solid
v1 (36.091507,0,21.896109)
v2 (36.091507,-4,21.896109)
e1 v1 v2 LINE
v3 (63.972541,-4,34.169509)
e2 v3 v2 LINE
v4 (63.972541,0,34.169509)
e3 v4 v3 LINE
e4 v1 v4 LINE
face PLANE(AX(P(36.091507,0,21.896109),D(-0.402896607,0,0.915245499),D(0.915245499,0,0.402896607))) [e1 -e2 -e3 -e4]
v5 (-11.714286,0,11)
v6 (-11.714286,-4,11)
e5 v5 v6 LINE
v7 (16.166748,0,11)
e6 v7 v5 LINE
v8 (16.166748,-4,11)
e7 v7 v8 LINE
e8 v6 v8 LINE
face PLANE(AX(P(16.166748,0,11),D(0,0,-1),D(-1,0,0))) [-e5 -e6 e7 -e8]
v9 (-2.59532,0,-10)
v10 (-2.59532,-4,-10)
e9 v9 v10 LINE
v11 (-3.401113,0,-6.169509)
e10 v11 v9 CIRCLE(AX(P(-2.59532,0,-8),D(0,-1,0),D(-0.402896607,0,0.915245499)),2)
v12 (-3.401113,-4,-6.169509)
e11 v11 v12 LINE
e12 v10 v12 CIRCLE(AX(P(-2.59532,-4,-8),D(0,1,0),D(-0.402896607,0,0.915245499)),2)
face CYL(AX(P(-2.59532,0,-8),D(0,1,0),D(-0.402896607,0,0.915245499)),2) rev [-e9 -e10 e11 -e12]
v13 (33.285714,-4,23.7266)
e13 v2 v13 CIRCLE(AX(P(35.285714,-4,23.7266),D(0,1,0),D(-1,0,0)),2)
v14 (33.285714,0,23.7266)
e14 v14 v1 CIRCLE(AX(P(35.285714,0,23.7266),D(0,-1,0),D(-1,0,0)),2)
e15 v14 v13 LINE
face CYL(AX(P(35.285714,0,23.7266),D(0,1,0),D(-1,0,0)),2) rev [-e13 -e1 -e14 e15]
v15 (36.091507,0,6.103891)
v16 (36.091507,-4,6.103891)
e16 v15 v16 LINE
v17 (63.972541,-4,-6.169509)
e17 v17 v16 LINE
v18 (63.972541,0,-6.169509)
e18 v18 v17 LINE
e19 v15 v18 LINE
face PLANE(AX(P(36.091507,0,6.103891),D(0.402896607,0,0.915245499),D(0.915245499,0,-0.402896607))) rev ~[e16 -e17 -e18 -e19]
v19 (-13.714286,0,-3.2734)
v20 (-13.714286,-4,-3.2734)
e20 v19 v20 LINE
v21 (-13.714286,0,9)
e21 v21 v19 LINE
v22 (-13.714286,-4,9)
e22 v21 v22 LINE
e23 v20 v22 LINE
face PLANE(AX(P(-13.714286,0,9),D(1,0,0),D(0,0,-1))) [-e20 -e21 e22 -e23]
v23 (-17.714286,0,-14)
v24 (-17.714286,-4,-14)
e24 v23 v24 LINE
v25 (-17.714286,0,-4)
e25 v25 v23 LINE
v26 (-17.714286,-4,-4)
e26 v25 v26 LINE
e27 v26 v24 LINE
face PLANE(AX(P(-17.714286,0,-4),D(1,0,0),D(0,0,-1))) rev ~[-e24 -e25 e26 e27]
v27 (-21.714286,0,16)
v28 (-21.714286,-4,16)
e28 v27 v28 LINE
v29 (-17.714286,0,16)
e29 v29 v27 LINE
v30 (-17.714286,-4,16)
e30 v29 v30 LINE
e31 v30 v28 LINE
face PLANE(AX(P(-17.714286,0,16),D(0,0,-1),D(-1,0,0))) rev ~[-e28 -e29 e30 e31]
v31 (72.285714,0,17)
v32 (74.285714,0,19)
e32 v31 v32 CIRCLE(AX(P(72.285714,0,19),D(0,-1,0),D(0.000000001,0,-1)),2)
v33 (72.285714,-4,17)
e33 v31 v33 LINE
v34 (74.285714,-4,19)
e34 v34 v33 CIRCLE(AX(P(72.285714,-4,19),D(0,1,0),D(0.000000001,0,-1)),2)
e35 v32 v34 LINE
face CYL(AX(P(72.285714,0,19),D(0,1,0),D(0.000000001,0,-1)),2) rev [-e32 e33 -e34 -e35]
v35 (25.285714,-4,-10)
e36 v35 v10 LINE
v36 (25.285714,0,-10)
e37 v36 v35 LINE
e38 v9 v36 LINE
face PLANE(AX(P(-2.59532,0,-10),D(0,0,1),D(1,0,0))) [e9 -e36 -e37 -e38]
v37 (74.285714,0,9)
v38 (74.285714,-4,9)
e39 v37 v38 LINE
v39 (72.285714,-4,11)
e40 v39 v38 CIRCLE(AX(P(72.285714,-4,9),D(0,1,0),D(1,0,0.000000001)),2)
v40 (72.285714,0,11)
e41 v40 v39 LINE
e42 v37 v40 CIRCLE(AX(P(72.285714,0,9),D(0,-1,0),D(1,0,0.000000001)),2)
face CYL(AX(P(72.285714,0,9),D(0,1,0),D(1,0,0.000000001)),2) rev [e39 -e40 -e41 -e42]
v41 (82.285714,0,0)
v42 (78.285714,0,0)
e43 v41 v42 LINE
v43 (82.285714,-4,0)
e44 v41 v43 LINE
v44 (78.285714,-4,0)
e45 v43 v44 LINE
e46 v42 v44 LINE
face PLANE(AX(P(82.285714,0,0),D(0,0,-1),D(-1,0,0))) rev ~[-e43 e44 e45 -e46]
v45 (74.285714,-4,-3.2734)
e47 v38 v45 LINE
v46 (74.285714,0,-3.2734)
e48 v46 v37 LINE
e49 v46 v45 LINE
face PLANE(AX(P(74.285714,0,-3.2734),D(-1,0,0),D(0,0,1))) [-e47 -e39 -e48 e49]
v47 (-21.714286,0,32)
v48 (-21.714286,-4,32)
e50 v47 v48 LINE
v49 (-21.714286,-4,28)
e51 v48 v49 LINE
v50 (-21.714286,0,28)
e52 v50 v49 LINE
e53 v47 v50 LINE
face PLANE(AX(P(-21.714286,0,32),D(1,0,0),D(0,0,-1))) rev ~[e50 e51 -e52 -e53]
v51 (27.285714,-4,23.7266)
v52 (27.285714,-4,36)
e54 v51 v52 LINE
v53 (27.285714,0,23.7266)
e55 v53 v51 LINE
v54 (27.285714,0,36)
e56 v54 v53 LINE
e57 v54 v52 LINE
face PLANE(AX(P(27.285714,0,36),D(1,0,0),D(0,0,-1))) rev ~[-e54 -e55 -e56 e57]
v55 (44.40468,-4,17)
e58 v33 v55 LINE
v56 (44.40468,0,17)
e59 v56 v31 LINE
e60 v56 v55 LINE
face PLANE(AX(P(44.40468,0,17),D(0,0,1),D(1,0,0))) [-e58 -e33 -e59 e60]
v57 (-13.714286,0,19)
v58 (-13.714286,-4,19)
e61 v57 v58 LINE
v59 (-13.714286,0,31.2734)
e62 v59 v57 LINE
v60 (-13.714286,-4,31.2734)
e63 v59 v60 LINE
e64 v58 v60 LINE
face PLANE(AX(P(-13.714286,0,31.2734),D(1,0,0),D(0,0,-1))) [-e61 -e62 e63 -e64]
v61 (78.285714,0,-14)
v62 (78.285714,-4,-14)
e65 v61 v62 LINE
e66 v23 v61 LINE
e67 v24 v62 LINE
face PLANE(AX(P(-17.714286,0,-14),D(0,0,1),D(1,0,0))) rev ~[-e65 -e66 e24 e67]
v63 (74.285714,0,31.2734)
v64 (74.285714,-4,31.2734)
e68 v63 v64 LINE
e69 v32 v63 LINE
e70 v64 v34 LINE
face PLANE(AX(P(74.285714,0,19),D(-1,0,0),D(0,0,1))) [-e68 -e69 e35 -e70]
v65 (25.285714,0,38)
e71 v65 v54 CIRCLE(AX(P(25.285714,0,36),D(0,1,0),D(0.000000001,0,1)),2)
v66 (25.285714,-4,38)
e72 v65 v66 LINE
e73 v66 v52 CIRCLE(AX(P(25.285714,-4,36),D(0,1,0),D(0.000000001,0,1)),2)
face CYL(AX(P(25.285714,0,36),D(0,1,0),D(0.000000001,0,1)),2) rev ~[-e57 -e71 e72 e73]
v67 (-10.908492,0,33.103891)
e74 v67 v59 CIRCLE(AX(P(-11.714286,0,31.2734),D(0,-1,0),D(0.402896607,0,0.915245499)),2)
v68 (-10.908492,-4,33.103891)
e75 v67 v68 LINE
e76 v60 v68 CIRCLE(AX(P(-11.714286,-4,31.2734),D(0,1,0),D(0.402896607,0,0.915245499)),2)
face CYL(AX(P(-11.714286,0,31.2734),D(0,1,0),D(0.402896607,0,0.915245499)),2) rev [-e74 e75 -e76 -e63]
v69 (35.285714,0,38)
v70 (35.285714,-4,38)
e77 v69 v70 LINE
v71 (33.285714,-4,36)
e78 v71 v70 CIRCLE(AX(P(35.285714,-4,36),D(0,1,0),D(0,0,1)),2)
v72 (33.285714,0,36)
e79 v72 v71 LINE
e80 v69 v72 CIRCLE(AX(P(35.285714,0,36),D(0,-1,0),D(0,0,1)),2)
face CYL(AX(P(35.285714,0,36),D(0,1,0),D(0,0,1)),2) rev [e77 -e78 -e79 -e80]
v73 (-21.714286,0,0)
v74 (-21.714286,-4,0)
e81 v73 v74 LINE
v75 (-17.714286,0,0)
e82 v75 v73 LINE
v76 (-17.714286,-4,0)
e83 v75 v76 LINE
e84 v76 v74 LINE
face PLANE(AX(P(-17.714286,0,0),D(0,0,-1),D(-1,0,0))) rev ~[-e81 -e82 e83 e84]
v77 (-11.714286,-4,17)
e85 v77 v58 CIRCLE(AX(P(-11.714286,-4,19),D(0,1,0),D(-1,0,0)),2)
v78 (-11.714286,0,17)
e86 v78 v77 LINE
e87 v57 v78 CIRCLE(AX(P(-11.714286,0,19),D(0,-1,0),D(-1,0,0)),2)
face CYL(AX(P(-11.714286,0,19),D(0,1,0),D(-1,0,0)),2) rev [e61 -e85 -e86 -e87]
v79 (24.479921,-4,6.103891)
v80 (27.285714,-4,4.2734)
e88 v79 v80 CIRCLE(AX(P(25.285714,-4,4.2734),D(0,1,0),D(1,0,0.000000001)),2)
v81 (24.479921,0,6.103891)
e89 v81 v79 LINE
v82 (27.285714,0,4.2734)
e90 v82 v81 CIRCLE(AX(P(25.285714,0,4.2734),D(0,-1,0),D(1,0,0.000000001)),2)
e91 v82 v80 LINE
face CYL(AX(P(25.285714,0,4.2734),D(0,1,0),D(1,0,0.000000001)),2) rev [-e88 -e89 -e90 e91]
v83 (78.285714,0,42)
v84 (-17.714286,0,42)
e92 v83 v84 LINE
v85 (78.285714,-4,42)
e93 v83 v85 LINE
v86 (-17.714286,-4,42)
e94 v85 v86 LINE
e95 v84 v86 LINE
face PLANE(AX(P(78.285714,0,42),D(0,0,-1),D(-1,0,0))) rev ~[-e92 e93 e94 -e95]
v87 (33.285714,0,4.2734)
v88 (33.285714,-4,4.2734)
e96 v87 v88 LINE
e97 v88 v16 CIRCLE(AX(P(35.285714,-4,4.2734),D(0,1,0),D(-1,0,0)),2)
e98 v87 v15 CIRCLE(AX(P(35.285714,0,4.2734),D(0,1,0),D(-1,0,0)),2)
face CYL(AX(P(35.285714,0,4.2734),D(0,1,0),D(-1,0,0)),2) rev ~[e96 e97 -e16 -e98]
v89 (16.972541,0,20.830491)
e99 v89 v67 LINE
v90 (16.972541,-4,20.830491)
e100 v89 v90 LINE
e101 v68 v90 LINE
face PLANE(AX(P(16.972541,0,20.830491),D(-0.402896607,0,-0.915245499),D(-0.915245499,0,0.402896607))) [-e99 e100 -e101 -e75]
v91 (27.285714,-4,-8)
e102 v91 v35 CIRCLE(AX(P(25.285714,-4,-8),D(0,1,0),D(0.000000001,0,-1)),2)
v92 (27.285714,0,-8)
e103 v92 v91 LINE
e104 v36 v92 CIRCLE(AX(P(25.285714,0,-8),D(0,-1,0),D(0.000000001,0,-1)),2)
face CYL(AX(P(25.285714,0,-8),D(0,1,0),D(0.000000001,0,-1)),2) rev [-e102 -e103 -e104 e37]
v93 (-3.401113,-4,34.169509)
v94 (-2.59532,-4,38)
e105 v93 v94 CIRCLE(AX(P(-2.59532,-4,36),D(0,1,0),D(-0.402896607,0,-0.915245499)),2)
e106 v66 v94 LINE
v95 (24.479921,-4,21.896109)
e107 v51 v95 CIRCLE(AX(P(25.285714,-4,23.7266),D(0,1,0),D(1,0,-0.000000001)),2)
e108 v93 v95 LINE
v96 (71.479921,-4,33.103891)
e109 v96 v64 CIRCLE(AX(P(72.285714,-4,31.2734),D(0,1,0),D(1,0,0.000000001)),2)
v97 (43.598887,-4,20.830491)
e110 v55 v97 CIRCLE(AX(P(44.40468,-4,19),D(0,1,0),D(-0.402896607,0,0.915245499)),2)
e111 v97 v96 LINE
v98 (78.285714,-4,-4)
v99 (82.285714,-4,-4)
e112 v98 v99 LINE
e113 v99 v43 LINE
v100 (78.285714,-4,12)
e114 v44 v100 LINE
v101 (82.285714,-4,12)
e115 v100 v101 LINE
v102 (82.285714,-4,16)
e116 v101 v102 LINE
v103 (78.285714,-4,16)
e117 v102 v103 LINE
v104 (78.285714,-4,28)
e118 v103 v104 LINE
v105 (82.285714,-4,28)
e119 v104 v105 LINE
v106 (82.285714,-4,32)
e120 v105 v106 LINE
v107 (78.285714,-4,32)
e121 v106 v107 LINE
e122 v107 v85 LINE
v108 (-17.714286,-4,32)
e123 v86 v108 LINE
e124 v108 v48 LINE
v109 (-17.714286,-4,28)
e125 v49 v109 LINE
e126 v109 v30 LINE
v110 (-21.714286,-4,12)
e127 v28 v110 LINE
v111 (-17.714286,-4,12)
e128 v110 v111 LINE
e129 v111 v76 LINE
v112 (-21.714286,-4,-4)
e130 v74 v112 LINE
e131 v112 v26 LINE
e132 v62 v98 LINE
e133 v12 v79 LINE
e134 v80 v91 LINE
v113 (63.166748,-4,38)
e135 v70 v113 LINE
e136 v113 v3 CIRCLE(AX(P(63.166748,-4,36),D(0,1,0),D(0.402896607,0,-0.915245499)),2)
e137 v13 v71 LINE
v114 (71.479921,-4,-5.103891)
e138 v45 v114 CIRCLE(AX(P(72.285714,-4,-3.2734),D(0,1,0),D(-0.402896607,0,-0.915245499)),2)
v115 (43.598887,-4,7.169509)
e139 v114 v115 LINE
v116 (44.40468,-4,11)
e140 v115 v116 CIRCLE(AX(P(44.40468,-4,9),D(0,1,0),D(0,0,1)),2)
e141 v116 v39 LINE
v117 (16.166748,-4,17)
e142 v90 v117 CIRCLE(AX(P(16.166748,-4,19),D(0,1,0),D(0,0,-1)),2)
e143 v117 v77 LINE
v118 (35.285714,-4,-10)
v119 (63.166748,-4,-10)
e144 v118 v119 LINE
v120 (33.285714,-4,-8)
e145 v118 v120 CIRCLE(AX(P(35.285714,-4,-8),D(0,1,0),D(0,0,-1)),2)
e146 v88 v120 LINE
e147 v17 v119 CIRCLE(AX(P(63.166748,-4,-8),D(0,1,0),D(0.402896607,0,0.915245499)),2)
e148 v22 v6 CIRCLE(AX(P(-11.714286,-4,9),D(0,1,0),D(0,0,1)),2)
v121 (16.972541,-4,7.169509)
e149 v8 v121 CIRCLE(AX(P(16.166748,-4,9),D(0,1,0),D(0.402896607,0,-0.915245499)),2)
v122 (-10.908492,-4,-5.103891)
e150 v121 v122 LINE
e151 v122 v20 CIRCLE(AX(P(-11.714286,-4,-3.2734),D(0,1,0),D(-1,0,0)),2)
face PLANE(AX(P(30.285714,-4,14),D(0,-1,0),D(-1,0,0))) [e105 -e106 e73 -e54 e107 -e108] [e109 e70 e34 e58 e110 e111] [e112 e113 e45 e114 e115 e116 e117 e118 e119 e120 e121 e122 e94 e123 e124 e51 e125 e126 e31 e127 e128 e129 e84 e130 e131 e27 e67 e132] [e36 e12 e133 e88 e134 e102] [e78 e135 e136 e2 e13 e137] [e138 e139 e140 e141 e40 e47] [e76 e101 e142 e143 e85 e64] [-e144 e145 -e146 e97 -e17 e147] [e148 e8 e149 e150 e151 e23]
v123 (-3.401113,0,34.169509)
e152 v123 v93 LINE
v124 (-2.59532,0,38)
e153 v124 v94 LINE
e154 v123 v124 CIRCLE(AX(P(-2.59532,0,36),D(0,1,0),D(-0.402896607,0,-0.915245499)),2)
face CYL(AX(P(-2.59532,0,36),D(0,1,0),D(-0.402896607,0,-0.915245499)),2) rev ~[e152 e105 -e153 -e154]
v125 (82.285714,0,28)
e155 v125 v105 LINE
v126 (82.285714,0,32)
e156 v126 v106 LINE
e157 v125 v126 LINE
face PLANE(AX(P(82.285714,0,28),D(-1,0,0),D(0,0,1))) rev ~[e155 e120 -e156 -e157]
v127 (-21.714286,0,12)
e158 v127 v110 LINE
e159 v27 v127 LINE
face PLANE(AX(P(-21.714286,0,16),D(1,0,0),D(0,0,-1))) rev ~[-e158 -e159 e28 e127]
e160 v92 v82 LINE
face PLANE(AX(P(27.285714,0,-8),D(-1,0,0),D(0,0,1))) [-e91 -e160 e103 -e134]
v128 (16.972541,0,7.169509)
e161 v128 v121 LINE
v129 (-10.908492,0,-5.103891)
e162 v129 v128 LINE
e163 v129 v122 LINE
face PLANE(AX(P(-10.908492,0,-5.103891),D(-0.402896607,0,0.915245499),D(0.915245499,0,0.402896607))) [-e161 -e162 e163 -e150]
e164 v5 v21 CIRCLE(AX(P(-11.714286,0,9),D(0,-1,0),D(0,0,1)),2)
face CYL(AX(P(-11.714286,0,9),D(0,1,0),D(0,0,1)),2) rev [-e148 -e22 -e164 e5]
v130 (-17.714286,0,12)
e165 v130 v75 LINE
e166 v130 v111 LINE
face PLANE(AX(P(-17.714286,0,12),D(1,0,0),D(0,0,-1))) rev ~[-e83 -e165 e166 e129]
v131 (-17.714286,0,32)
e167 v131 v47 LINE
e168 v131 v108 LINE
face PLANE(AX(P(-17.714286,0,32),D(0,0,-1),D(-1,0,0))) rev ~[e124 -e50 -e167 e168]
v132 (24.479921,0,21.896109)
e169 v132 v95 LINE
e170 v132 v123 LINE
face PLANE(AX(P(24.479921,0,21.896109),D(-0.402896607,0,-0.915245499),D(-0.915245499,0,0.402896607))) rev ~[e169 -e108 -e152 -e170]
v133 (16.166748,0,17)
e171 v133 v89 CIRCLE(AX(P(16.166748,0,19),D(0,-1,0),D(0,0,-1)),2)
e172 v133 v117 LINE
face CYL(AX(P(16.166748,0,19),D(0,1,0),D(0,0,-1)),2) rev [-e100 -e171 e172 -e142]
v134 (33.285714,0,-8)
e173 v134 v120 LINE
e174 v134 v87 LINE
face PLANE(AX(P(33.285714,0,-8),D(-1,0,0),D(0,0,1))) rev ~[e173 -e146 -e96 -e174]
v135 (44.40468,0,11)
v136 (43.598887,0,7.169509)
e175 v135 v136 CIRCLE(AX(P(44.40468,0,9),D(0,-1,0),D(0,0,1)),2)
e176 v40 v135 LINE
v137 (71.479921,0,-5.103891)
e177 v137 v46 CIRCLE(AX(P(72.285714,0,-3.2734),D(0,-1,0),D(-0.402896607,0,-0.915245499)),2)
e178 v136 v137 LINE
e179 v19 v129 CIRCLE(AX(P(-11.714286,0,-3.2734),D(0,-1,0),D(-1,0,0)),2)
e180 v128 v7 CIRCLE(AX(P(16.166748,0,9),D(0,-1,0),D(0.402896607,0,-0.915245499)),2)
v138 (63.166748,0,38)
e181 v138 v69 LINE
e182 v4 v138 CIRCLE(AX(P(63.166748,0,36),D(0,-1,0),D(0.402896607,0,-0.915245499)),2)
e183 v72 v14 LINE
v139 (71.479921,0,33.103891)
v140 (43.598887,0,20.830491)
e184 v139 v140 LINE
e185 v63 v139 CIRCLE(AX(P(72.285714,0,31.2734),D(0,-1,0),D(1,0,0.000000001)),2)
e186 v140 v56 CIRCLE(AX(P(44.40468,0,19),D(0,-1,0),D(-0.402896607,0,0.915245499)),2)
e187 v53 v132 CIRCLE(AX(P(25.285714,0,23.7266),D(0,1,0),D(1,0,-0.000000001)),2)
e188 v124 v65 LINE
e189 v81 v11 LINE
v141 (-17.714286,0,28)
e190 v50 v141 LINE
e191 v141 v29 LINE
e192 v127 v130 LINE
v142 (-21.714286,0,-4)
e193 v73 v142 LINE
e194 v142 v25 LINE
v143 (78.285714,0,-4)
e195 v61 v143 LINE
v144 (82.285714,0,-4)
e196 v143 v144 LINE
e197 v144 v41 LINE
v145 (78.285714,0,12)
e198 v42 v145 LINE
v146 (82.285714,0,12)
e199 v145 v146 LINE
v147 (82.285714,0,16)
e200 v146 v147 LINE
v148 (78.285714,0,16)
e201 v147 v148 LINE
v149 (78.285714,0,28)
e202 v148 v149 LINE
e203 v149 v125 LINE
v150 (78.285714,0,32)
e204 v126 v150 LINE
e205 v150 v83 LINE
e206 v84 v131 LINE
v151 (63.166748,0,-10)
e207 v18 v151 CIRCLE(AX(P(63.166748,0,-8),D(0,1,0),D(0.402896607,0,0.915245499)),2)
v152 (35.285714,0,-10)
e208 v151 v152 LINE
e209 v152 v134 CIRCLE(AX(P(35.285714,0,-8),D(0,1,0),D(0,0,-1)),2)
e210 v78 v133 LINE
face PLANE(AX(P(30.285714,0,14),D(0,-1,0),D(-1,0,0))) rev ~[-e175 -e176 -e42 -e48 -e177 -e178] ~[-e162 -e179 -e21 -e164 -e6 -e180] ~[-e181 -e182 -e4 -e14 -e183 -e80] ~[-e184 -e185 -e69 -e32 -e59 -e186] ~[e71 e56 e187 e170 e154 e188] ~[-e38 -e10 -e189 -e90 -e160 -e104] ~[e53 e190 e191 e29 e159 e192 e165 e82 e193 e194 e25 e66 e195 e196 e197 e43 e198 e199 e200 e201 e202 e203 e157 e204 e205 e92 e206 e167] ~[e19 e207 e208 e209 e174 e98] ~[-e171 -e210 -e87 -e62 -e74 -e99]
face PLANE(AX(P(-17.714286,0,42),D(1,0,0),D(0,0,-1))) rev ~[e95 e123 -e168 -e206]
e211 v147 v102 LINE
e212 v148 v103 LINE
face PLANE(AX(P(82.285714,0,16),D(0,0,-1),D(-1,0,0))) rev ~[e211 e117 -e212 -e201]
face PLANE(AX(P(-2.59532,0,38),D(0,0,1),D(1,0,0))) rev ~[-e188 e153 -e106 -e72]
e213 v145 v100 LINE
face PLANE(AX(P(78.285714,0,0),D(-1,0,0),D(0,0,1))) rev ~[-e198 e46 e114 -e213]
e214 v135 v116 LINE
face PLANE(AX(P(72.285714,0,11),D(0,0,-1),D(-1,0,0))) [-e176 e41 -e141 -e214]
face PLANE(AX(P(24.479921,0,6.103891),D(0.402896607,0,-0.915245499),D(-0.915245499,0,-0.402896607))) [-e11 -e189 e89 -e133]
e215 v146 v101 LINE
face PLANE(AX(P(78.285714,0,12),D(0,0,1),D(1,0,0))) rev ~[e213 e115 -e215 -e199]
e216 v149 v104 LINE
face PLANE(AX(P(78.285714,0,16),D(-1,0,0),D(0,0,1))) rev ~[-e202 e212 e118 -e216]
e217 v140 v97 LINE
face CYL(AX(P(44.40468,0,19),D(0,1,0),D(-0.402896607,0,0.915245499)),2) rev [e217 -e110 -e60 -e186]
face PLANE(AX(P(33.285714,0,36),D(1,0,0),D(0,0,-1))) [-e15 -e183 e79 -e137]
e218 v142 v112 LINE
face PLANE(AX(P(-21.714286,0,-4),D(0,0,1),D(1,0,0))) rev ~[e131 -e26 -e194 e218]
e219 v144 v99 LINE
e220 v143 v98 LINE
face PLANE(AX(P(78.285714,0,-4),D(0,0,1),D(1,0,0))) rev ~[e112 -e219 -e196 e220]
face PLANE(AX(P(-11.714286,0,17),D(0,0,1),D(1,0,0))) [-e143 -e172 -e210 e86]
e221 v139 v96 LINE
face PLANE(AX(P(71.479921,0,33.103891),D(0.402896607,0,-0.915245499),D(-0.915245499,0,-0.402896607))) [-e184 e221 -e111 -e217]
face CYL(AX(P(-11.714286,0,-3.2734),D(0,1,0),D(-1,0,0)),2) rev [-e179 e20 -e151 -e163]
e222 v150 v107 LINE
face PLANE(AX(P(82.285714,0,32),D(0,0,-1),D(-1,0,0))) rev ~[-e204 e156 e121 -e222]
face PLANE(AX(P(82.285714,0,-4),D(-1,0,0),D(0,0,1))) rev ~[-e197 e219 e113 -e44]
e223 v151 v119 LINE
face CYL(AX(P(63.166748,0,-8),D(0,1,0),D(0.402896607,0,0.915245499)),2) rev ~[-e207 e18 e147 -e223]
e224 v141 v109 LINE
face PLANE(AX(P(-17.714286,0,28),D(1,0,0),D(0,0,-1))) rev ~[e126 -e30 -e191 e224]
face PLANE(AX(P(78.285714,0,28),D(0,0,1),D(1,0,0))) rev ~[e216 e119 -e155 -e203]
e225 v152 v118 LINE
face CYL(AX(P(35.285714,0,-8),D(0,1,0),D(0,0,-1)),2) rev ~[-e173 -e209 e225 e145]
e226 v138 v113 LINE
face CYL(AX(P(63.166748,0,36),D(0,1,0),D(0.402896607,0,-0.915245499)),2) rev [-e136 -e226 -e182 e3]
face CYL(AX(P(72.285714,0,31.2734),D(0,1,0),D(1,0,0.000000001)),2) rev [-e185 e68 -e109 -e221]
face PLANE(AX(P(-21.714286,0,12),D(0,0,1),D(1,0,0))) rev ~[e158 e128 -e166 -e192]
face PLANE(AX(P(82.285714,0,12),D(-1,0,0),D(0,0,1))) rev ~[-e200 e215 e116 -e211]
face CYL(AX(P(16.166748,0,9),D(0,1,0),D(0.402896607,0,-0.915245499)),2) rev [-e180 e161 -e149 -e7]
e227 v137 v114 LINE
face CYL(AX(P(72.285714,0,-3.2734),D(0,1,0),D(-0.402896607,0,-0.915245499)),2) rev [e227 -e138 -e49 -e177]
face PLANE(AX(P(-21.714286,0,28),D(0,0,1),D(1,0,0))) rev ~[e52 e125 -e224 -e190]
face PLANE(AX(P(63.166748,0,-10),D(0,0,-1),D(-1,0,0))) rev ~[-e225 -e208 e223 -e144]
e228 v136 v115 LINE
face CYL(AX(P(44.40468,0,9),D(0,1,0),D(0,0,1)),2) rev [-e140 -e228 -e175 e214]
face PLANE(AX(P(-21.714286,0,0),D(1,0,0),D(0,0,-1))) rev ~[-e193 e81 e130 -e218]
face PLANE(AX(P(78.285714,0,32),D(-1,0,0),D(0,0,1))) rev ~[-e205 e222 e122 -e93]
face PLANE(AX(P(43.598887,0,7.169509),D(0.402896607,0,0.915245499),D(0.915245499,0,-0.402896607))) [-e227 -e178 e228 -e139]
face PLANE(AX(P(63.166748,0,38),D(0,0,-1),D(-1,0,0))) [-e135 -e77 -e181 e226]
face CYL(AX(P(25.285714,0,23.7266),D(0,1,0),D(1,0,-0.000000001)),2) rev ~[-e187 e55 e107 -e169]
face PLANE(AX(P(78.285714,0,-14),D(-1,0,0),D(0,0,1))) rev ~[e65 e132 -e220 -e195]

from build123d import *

# Parameters (mm, degrees)
BOSS_EXTRUDE1_DEPTH = 4
CUT_EXTRUDE1_DEPTH  = 10


with BuildPart() as part:
    # Sketch1 → Boss-Extrude1 (new body)
    with BuildSketch(Plane(origin=(0, 0, 0), x_dir=(1, 0, 0), z_dir=(0, 1, 0))):
        Polygon((-17.714285714, -42), (-17.714285714, -32), (-21.714285714, -32), (-21.714285714, -28), (-17.714285714, -28), (-17.714285714, -16), (-21.714285714, -16), (-21.714285714, -12), (-17.714285714, -12), (-17.714285714, 0), (-21.714285714, 0), (-21.714285714, 4), (-17.714285714, 4), (-17.714285714, 14), (78.285714286, 14), (78.285714286, 4), (82.285714286, 4), (82.285714286, 0), (78.285714286, 0), (78.285714286, -12), (82.285714286, -12), (82.285714286, -16), (78.285714286, -16), (78.285714286, -28), (82.285714286, -28), (82.285714286, -32), (78.285714286, -32), (78.285714286, -42), align=None)
    extrude(amount=-BOSS_EXTRUDE1_DEPTH)

    # Sketch2 → Cut-Extrude1 (cut)
    with BuildSketch(Plane(origin=(0, 0, 0), x_dir=(1, 0, 0), z_dir=(0, 1, 0))):
        with BuildLine():
            Line((-2.595319649, 10), (25.285714286, 10))
            ThreePointArc((25.285714286, 10), (26.699927848, 9.414213562), (27.285714286, 8))
            Line((27.285714286, 8), (27.285714286, -4.273399853))
            ThreePointArc((27.285714286, -4.273399853), (26.378511973, -5.948450065), (24.479921071, -6.103890851))
            Line((24.479921071, -6.103890851), (-3.401112863, 6.169509001))
            ThreePointArc((-3.401112863, 6.169509001), (-4.552483668, 8.411714709), (-2.595319649, 10))
        make_face()
        with BuildLine():
            ThreePointArc((-13.714285714, 3.273399853), (-12.807083402, 4.948450065), (-10.9084925, 5.103890851))
            Line((-10.9084925, 5.103890851), (16.972541435, -7.169509001))
            ThreePointArc((16.972541435, -7.169509001), (18.12391224, -9.411714709), (16.16674822, -11))
            Line((16.16674822, -11), (-11.714285714, -11))
            ThreePointArc((-11.714285714, -11), (-13.128499277, -10.414213562), (-13.714285714, -9))
            Line((-13.714285714, -9), (-13.714285714, 3.273399853))
        make_face()
        with BuildLine():
            Line((33.285714286, 8), (33.285714286, -4.273399853))
            ThreePointArc((33.285714286, -4.273399853), (34.192916598, -5.948450065), (36.0915075, -6.103890851))
            Line((36.0915075, -6.103890851), (63.972541435, 6.169509001))
            ThreePointArc((63.972541435, 6.169509001), (65.12391224, 8.411714709), (63.16674822, 10))
            Line((63.16674822, 10), (35.285714286, 10))
            ThreePointArc((35.285714286, 10), (33.871500723, 9.414213562), (33.285714286, 8))
        make_face()
        with BuildLine():
            ThreePointArc((74.285714286, -9), (73.699927848, -10.414213562), (72.285714286, -11))
            Line((72.285714286, -11), (44.404680351, -11))
            ThreePointArc((44.404680351, -11), (42.447516332, -9.411714709), (43.598887137, -7.169509001))
            Line((43.598887137, -7.169509001), (71.479921071, 5.103890851))
            ThreePointArc((71.479921071, 5.103890851), (73.378511973, 4.948450065), (74.285714286, 3.273399853))
            Line((74.285714286, 3.273399853), (74.285714286, -9))
        make_face()
        with BuildLine():
            ThreePointArc((74.285714286, -31.273399853), (73.378511973, -32.948450065), (71.479921071, -33.103890851))
            Line((71.479921071, -33.103890851), (43.598887137, -20.830490999))
            ThreePointArc((43.598887137, -20.830490999), (42.447516332, -18.588285291), (44.404680351, -17))
            Line((44.404680351, -17), (72.285714286, -17))
            ThreePointArc((72.285714286, -17), (73.699927848, -17.585786438), (74.285714286, -19))
            Line((74.285714286, -19), (74.285714286, -31.273399853))
        make_face()
        with BuildLine():
            Line((63.16674822, -38), (35.285714286, -38))
            ThreePointArc((35.285714286, -38), (33.871500723, -37.414213562), (33.285714286, -36))
            Line((33.285714286, -36), (33.285714286, -23.726600147))
            ThreePointArc((33.285714286, -23.726600147), (34.192916598, -22.051549935), (36.0915075, -21.896109149))
            Line((36.0915075, -21.896109149), (63.972541435, -34.169509001))
            ThreePointArc((63.972541435, -34.169509001), (65.12391224, -36.411714709), (63.16674822, -38))
        make_face()
        with BuildLine():
            Line((27.285714286, -36), (27.285714286, -23.726600147))
            ThreePointArc((27.285714286, -23.726600147), (26.378511973, -22.051549935), (24.479921071, -21.896109149))
            Line((24.479921071, -21.896109149), (-3.401112863, -34.169509001))
            ThreePointArc((-3.401112863, -34.169509001), (-4.552483668, -36.411714709), (-2.595319649, -38))
            Line((-2.595319649, -38), (25.285714286, -38))
            ThreePointArc((25.285714286, -38), (26.699927848, -37.414213562), (27.285714286, -36))
        make_face()
        with BuildLine():
            ThreePointArc((-13.714285714, -19), (-13.128499277, -17.585786438), (-11.714285714, -17))
            Line((-11.714285714, -17), (16.16674822, -17))
            ThreePointArc((16.16674822, -17), (18.12391224, -18.588285291), (16.972541435, -20.830490999))
            Line((16.972541435, -20.830490999), (-10.9084925, -33.103890851))
            ThreePointArc((-10.9084925, -33.103890851), (-12.807083402, -32.948450065), (-13.714285714, -31.273399853))
            Line((-13.714285714, -31.273399853), (-13.714285714, -19))
        make_face()
    extrude(amount=-CUT_EXTRUDE1_DEPTH, mode=Mode.SUBTRACT)


solid = part.part
